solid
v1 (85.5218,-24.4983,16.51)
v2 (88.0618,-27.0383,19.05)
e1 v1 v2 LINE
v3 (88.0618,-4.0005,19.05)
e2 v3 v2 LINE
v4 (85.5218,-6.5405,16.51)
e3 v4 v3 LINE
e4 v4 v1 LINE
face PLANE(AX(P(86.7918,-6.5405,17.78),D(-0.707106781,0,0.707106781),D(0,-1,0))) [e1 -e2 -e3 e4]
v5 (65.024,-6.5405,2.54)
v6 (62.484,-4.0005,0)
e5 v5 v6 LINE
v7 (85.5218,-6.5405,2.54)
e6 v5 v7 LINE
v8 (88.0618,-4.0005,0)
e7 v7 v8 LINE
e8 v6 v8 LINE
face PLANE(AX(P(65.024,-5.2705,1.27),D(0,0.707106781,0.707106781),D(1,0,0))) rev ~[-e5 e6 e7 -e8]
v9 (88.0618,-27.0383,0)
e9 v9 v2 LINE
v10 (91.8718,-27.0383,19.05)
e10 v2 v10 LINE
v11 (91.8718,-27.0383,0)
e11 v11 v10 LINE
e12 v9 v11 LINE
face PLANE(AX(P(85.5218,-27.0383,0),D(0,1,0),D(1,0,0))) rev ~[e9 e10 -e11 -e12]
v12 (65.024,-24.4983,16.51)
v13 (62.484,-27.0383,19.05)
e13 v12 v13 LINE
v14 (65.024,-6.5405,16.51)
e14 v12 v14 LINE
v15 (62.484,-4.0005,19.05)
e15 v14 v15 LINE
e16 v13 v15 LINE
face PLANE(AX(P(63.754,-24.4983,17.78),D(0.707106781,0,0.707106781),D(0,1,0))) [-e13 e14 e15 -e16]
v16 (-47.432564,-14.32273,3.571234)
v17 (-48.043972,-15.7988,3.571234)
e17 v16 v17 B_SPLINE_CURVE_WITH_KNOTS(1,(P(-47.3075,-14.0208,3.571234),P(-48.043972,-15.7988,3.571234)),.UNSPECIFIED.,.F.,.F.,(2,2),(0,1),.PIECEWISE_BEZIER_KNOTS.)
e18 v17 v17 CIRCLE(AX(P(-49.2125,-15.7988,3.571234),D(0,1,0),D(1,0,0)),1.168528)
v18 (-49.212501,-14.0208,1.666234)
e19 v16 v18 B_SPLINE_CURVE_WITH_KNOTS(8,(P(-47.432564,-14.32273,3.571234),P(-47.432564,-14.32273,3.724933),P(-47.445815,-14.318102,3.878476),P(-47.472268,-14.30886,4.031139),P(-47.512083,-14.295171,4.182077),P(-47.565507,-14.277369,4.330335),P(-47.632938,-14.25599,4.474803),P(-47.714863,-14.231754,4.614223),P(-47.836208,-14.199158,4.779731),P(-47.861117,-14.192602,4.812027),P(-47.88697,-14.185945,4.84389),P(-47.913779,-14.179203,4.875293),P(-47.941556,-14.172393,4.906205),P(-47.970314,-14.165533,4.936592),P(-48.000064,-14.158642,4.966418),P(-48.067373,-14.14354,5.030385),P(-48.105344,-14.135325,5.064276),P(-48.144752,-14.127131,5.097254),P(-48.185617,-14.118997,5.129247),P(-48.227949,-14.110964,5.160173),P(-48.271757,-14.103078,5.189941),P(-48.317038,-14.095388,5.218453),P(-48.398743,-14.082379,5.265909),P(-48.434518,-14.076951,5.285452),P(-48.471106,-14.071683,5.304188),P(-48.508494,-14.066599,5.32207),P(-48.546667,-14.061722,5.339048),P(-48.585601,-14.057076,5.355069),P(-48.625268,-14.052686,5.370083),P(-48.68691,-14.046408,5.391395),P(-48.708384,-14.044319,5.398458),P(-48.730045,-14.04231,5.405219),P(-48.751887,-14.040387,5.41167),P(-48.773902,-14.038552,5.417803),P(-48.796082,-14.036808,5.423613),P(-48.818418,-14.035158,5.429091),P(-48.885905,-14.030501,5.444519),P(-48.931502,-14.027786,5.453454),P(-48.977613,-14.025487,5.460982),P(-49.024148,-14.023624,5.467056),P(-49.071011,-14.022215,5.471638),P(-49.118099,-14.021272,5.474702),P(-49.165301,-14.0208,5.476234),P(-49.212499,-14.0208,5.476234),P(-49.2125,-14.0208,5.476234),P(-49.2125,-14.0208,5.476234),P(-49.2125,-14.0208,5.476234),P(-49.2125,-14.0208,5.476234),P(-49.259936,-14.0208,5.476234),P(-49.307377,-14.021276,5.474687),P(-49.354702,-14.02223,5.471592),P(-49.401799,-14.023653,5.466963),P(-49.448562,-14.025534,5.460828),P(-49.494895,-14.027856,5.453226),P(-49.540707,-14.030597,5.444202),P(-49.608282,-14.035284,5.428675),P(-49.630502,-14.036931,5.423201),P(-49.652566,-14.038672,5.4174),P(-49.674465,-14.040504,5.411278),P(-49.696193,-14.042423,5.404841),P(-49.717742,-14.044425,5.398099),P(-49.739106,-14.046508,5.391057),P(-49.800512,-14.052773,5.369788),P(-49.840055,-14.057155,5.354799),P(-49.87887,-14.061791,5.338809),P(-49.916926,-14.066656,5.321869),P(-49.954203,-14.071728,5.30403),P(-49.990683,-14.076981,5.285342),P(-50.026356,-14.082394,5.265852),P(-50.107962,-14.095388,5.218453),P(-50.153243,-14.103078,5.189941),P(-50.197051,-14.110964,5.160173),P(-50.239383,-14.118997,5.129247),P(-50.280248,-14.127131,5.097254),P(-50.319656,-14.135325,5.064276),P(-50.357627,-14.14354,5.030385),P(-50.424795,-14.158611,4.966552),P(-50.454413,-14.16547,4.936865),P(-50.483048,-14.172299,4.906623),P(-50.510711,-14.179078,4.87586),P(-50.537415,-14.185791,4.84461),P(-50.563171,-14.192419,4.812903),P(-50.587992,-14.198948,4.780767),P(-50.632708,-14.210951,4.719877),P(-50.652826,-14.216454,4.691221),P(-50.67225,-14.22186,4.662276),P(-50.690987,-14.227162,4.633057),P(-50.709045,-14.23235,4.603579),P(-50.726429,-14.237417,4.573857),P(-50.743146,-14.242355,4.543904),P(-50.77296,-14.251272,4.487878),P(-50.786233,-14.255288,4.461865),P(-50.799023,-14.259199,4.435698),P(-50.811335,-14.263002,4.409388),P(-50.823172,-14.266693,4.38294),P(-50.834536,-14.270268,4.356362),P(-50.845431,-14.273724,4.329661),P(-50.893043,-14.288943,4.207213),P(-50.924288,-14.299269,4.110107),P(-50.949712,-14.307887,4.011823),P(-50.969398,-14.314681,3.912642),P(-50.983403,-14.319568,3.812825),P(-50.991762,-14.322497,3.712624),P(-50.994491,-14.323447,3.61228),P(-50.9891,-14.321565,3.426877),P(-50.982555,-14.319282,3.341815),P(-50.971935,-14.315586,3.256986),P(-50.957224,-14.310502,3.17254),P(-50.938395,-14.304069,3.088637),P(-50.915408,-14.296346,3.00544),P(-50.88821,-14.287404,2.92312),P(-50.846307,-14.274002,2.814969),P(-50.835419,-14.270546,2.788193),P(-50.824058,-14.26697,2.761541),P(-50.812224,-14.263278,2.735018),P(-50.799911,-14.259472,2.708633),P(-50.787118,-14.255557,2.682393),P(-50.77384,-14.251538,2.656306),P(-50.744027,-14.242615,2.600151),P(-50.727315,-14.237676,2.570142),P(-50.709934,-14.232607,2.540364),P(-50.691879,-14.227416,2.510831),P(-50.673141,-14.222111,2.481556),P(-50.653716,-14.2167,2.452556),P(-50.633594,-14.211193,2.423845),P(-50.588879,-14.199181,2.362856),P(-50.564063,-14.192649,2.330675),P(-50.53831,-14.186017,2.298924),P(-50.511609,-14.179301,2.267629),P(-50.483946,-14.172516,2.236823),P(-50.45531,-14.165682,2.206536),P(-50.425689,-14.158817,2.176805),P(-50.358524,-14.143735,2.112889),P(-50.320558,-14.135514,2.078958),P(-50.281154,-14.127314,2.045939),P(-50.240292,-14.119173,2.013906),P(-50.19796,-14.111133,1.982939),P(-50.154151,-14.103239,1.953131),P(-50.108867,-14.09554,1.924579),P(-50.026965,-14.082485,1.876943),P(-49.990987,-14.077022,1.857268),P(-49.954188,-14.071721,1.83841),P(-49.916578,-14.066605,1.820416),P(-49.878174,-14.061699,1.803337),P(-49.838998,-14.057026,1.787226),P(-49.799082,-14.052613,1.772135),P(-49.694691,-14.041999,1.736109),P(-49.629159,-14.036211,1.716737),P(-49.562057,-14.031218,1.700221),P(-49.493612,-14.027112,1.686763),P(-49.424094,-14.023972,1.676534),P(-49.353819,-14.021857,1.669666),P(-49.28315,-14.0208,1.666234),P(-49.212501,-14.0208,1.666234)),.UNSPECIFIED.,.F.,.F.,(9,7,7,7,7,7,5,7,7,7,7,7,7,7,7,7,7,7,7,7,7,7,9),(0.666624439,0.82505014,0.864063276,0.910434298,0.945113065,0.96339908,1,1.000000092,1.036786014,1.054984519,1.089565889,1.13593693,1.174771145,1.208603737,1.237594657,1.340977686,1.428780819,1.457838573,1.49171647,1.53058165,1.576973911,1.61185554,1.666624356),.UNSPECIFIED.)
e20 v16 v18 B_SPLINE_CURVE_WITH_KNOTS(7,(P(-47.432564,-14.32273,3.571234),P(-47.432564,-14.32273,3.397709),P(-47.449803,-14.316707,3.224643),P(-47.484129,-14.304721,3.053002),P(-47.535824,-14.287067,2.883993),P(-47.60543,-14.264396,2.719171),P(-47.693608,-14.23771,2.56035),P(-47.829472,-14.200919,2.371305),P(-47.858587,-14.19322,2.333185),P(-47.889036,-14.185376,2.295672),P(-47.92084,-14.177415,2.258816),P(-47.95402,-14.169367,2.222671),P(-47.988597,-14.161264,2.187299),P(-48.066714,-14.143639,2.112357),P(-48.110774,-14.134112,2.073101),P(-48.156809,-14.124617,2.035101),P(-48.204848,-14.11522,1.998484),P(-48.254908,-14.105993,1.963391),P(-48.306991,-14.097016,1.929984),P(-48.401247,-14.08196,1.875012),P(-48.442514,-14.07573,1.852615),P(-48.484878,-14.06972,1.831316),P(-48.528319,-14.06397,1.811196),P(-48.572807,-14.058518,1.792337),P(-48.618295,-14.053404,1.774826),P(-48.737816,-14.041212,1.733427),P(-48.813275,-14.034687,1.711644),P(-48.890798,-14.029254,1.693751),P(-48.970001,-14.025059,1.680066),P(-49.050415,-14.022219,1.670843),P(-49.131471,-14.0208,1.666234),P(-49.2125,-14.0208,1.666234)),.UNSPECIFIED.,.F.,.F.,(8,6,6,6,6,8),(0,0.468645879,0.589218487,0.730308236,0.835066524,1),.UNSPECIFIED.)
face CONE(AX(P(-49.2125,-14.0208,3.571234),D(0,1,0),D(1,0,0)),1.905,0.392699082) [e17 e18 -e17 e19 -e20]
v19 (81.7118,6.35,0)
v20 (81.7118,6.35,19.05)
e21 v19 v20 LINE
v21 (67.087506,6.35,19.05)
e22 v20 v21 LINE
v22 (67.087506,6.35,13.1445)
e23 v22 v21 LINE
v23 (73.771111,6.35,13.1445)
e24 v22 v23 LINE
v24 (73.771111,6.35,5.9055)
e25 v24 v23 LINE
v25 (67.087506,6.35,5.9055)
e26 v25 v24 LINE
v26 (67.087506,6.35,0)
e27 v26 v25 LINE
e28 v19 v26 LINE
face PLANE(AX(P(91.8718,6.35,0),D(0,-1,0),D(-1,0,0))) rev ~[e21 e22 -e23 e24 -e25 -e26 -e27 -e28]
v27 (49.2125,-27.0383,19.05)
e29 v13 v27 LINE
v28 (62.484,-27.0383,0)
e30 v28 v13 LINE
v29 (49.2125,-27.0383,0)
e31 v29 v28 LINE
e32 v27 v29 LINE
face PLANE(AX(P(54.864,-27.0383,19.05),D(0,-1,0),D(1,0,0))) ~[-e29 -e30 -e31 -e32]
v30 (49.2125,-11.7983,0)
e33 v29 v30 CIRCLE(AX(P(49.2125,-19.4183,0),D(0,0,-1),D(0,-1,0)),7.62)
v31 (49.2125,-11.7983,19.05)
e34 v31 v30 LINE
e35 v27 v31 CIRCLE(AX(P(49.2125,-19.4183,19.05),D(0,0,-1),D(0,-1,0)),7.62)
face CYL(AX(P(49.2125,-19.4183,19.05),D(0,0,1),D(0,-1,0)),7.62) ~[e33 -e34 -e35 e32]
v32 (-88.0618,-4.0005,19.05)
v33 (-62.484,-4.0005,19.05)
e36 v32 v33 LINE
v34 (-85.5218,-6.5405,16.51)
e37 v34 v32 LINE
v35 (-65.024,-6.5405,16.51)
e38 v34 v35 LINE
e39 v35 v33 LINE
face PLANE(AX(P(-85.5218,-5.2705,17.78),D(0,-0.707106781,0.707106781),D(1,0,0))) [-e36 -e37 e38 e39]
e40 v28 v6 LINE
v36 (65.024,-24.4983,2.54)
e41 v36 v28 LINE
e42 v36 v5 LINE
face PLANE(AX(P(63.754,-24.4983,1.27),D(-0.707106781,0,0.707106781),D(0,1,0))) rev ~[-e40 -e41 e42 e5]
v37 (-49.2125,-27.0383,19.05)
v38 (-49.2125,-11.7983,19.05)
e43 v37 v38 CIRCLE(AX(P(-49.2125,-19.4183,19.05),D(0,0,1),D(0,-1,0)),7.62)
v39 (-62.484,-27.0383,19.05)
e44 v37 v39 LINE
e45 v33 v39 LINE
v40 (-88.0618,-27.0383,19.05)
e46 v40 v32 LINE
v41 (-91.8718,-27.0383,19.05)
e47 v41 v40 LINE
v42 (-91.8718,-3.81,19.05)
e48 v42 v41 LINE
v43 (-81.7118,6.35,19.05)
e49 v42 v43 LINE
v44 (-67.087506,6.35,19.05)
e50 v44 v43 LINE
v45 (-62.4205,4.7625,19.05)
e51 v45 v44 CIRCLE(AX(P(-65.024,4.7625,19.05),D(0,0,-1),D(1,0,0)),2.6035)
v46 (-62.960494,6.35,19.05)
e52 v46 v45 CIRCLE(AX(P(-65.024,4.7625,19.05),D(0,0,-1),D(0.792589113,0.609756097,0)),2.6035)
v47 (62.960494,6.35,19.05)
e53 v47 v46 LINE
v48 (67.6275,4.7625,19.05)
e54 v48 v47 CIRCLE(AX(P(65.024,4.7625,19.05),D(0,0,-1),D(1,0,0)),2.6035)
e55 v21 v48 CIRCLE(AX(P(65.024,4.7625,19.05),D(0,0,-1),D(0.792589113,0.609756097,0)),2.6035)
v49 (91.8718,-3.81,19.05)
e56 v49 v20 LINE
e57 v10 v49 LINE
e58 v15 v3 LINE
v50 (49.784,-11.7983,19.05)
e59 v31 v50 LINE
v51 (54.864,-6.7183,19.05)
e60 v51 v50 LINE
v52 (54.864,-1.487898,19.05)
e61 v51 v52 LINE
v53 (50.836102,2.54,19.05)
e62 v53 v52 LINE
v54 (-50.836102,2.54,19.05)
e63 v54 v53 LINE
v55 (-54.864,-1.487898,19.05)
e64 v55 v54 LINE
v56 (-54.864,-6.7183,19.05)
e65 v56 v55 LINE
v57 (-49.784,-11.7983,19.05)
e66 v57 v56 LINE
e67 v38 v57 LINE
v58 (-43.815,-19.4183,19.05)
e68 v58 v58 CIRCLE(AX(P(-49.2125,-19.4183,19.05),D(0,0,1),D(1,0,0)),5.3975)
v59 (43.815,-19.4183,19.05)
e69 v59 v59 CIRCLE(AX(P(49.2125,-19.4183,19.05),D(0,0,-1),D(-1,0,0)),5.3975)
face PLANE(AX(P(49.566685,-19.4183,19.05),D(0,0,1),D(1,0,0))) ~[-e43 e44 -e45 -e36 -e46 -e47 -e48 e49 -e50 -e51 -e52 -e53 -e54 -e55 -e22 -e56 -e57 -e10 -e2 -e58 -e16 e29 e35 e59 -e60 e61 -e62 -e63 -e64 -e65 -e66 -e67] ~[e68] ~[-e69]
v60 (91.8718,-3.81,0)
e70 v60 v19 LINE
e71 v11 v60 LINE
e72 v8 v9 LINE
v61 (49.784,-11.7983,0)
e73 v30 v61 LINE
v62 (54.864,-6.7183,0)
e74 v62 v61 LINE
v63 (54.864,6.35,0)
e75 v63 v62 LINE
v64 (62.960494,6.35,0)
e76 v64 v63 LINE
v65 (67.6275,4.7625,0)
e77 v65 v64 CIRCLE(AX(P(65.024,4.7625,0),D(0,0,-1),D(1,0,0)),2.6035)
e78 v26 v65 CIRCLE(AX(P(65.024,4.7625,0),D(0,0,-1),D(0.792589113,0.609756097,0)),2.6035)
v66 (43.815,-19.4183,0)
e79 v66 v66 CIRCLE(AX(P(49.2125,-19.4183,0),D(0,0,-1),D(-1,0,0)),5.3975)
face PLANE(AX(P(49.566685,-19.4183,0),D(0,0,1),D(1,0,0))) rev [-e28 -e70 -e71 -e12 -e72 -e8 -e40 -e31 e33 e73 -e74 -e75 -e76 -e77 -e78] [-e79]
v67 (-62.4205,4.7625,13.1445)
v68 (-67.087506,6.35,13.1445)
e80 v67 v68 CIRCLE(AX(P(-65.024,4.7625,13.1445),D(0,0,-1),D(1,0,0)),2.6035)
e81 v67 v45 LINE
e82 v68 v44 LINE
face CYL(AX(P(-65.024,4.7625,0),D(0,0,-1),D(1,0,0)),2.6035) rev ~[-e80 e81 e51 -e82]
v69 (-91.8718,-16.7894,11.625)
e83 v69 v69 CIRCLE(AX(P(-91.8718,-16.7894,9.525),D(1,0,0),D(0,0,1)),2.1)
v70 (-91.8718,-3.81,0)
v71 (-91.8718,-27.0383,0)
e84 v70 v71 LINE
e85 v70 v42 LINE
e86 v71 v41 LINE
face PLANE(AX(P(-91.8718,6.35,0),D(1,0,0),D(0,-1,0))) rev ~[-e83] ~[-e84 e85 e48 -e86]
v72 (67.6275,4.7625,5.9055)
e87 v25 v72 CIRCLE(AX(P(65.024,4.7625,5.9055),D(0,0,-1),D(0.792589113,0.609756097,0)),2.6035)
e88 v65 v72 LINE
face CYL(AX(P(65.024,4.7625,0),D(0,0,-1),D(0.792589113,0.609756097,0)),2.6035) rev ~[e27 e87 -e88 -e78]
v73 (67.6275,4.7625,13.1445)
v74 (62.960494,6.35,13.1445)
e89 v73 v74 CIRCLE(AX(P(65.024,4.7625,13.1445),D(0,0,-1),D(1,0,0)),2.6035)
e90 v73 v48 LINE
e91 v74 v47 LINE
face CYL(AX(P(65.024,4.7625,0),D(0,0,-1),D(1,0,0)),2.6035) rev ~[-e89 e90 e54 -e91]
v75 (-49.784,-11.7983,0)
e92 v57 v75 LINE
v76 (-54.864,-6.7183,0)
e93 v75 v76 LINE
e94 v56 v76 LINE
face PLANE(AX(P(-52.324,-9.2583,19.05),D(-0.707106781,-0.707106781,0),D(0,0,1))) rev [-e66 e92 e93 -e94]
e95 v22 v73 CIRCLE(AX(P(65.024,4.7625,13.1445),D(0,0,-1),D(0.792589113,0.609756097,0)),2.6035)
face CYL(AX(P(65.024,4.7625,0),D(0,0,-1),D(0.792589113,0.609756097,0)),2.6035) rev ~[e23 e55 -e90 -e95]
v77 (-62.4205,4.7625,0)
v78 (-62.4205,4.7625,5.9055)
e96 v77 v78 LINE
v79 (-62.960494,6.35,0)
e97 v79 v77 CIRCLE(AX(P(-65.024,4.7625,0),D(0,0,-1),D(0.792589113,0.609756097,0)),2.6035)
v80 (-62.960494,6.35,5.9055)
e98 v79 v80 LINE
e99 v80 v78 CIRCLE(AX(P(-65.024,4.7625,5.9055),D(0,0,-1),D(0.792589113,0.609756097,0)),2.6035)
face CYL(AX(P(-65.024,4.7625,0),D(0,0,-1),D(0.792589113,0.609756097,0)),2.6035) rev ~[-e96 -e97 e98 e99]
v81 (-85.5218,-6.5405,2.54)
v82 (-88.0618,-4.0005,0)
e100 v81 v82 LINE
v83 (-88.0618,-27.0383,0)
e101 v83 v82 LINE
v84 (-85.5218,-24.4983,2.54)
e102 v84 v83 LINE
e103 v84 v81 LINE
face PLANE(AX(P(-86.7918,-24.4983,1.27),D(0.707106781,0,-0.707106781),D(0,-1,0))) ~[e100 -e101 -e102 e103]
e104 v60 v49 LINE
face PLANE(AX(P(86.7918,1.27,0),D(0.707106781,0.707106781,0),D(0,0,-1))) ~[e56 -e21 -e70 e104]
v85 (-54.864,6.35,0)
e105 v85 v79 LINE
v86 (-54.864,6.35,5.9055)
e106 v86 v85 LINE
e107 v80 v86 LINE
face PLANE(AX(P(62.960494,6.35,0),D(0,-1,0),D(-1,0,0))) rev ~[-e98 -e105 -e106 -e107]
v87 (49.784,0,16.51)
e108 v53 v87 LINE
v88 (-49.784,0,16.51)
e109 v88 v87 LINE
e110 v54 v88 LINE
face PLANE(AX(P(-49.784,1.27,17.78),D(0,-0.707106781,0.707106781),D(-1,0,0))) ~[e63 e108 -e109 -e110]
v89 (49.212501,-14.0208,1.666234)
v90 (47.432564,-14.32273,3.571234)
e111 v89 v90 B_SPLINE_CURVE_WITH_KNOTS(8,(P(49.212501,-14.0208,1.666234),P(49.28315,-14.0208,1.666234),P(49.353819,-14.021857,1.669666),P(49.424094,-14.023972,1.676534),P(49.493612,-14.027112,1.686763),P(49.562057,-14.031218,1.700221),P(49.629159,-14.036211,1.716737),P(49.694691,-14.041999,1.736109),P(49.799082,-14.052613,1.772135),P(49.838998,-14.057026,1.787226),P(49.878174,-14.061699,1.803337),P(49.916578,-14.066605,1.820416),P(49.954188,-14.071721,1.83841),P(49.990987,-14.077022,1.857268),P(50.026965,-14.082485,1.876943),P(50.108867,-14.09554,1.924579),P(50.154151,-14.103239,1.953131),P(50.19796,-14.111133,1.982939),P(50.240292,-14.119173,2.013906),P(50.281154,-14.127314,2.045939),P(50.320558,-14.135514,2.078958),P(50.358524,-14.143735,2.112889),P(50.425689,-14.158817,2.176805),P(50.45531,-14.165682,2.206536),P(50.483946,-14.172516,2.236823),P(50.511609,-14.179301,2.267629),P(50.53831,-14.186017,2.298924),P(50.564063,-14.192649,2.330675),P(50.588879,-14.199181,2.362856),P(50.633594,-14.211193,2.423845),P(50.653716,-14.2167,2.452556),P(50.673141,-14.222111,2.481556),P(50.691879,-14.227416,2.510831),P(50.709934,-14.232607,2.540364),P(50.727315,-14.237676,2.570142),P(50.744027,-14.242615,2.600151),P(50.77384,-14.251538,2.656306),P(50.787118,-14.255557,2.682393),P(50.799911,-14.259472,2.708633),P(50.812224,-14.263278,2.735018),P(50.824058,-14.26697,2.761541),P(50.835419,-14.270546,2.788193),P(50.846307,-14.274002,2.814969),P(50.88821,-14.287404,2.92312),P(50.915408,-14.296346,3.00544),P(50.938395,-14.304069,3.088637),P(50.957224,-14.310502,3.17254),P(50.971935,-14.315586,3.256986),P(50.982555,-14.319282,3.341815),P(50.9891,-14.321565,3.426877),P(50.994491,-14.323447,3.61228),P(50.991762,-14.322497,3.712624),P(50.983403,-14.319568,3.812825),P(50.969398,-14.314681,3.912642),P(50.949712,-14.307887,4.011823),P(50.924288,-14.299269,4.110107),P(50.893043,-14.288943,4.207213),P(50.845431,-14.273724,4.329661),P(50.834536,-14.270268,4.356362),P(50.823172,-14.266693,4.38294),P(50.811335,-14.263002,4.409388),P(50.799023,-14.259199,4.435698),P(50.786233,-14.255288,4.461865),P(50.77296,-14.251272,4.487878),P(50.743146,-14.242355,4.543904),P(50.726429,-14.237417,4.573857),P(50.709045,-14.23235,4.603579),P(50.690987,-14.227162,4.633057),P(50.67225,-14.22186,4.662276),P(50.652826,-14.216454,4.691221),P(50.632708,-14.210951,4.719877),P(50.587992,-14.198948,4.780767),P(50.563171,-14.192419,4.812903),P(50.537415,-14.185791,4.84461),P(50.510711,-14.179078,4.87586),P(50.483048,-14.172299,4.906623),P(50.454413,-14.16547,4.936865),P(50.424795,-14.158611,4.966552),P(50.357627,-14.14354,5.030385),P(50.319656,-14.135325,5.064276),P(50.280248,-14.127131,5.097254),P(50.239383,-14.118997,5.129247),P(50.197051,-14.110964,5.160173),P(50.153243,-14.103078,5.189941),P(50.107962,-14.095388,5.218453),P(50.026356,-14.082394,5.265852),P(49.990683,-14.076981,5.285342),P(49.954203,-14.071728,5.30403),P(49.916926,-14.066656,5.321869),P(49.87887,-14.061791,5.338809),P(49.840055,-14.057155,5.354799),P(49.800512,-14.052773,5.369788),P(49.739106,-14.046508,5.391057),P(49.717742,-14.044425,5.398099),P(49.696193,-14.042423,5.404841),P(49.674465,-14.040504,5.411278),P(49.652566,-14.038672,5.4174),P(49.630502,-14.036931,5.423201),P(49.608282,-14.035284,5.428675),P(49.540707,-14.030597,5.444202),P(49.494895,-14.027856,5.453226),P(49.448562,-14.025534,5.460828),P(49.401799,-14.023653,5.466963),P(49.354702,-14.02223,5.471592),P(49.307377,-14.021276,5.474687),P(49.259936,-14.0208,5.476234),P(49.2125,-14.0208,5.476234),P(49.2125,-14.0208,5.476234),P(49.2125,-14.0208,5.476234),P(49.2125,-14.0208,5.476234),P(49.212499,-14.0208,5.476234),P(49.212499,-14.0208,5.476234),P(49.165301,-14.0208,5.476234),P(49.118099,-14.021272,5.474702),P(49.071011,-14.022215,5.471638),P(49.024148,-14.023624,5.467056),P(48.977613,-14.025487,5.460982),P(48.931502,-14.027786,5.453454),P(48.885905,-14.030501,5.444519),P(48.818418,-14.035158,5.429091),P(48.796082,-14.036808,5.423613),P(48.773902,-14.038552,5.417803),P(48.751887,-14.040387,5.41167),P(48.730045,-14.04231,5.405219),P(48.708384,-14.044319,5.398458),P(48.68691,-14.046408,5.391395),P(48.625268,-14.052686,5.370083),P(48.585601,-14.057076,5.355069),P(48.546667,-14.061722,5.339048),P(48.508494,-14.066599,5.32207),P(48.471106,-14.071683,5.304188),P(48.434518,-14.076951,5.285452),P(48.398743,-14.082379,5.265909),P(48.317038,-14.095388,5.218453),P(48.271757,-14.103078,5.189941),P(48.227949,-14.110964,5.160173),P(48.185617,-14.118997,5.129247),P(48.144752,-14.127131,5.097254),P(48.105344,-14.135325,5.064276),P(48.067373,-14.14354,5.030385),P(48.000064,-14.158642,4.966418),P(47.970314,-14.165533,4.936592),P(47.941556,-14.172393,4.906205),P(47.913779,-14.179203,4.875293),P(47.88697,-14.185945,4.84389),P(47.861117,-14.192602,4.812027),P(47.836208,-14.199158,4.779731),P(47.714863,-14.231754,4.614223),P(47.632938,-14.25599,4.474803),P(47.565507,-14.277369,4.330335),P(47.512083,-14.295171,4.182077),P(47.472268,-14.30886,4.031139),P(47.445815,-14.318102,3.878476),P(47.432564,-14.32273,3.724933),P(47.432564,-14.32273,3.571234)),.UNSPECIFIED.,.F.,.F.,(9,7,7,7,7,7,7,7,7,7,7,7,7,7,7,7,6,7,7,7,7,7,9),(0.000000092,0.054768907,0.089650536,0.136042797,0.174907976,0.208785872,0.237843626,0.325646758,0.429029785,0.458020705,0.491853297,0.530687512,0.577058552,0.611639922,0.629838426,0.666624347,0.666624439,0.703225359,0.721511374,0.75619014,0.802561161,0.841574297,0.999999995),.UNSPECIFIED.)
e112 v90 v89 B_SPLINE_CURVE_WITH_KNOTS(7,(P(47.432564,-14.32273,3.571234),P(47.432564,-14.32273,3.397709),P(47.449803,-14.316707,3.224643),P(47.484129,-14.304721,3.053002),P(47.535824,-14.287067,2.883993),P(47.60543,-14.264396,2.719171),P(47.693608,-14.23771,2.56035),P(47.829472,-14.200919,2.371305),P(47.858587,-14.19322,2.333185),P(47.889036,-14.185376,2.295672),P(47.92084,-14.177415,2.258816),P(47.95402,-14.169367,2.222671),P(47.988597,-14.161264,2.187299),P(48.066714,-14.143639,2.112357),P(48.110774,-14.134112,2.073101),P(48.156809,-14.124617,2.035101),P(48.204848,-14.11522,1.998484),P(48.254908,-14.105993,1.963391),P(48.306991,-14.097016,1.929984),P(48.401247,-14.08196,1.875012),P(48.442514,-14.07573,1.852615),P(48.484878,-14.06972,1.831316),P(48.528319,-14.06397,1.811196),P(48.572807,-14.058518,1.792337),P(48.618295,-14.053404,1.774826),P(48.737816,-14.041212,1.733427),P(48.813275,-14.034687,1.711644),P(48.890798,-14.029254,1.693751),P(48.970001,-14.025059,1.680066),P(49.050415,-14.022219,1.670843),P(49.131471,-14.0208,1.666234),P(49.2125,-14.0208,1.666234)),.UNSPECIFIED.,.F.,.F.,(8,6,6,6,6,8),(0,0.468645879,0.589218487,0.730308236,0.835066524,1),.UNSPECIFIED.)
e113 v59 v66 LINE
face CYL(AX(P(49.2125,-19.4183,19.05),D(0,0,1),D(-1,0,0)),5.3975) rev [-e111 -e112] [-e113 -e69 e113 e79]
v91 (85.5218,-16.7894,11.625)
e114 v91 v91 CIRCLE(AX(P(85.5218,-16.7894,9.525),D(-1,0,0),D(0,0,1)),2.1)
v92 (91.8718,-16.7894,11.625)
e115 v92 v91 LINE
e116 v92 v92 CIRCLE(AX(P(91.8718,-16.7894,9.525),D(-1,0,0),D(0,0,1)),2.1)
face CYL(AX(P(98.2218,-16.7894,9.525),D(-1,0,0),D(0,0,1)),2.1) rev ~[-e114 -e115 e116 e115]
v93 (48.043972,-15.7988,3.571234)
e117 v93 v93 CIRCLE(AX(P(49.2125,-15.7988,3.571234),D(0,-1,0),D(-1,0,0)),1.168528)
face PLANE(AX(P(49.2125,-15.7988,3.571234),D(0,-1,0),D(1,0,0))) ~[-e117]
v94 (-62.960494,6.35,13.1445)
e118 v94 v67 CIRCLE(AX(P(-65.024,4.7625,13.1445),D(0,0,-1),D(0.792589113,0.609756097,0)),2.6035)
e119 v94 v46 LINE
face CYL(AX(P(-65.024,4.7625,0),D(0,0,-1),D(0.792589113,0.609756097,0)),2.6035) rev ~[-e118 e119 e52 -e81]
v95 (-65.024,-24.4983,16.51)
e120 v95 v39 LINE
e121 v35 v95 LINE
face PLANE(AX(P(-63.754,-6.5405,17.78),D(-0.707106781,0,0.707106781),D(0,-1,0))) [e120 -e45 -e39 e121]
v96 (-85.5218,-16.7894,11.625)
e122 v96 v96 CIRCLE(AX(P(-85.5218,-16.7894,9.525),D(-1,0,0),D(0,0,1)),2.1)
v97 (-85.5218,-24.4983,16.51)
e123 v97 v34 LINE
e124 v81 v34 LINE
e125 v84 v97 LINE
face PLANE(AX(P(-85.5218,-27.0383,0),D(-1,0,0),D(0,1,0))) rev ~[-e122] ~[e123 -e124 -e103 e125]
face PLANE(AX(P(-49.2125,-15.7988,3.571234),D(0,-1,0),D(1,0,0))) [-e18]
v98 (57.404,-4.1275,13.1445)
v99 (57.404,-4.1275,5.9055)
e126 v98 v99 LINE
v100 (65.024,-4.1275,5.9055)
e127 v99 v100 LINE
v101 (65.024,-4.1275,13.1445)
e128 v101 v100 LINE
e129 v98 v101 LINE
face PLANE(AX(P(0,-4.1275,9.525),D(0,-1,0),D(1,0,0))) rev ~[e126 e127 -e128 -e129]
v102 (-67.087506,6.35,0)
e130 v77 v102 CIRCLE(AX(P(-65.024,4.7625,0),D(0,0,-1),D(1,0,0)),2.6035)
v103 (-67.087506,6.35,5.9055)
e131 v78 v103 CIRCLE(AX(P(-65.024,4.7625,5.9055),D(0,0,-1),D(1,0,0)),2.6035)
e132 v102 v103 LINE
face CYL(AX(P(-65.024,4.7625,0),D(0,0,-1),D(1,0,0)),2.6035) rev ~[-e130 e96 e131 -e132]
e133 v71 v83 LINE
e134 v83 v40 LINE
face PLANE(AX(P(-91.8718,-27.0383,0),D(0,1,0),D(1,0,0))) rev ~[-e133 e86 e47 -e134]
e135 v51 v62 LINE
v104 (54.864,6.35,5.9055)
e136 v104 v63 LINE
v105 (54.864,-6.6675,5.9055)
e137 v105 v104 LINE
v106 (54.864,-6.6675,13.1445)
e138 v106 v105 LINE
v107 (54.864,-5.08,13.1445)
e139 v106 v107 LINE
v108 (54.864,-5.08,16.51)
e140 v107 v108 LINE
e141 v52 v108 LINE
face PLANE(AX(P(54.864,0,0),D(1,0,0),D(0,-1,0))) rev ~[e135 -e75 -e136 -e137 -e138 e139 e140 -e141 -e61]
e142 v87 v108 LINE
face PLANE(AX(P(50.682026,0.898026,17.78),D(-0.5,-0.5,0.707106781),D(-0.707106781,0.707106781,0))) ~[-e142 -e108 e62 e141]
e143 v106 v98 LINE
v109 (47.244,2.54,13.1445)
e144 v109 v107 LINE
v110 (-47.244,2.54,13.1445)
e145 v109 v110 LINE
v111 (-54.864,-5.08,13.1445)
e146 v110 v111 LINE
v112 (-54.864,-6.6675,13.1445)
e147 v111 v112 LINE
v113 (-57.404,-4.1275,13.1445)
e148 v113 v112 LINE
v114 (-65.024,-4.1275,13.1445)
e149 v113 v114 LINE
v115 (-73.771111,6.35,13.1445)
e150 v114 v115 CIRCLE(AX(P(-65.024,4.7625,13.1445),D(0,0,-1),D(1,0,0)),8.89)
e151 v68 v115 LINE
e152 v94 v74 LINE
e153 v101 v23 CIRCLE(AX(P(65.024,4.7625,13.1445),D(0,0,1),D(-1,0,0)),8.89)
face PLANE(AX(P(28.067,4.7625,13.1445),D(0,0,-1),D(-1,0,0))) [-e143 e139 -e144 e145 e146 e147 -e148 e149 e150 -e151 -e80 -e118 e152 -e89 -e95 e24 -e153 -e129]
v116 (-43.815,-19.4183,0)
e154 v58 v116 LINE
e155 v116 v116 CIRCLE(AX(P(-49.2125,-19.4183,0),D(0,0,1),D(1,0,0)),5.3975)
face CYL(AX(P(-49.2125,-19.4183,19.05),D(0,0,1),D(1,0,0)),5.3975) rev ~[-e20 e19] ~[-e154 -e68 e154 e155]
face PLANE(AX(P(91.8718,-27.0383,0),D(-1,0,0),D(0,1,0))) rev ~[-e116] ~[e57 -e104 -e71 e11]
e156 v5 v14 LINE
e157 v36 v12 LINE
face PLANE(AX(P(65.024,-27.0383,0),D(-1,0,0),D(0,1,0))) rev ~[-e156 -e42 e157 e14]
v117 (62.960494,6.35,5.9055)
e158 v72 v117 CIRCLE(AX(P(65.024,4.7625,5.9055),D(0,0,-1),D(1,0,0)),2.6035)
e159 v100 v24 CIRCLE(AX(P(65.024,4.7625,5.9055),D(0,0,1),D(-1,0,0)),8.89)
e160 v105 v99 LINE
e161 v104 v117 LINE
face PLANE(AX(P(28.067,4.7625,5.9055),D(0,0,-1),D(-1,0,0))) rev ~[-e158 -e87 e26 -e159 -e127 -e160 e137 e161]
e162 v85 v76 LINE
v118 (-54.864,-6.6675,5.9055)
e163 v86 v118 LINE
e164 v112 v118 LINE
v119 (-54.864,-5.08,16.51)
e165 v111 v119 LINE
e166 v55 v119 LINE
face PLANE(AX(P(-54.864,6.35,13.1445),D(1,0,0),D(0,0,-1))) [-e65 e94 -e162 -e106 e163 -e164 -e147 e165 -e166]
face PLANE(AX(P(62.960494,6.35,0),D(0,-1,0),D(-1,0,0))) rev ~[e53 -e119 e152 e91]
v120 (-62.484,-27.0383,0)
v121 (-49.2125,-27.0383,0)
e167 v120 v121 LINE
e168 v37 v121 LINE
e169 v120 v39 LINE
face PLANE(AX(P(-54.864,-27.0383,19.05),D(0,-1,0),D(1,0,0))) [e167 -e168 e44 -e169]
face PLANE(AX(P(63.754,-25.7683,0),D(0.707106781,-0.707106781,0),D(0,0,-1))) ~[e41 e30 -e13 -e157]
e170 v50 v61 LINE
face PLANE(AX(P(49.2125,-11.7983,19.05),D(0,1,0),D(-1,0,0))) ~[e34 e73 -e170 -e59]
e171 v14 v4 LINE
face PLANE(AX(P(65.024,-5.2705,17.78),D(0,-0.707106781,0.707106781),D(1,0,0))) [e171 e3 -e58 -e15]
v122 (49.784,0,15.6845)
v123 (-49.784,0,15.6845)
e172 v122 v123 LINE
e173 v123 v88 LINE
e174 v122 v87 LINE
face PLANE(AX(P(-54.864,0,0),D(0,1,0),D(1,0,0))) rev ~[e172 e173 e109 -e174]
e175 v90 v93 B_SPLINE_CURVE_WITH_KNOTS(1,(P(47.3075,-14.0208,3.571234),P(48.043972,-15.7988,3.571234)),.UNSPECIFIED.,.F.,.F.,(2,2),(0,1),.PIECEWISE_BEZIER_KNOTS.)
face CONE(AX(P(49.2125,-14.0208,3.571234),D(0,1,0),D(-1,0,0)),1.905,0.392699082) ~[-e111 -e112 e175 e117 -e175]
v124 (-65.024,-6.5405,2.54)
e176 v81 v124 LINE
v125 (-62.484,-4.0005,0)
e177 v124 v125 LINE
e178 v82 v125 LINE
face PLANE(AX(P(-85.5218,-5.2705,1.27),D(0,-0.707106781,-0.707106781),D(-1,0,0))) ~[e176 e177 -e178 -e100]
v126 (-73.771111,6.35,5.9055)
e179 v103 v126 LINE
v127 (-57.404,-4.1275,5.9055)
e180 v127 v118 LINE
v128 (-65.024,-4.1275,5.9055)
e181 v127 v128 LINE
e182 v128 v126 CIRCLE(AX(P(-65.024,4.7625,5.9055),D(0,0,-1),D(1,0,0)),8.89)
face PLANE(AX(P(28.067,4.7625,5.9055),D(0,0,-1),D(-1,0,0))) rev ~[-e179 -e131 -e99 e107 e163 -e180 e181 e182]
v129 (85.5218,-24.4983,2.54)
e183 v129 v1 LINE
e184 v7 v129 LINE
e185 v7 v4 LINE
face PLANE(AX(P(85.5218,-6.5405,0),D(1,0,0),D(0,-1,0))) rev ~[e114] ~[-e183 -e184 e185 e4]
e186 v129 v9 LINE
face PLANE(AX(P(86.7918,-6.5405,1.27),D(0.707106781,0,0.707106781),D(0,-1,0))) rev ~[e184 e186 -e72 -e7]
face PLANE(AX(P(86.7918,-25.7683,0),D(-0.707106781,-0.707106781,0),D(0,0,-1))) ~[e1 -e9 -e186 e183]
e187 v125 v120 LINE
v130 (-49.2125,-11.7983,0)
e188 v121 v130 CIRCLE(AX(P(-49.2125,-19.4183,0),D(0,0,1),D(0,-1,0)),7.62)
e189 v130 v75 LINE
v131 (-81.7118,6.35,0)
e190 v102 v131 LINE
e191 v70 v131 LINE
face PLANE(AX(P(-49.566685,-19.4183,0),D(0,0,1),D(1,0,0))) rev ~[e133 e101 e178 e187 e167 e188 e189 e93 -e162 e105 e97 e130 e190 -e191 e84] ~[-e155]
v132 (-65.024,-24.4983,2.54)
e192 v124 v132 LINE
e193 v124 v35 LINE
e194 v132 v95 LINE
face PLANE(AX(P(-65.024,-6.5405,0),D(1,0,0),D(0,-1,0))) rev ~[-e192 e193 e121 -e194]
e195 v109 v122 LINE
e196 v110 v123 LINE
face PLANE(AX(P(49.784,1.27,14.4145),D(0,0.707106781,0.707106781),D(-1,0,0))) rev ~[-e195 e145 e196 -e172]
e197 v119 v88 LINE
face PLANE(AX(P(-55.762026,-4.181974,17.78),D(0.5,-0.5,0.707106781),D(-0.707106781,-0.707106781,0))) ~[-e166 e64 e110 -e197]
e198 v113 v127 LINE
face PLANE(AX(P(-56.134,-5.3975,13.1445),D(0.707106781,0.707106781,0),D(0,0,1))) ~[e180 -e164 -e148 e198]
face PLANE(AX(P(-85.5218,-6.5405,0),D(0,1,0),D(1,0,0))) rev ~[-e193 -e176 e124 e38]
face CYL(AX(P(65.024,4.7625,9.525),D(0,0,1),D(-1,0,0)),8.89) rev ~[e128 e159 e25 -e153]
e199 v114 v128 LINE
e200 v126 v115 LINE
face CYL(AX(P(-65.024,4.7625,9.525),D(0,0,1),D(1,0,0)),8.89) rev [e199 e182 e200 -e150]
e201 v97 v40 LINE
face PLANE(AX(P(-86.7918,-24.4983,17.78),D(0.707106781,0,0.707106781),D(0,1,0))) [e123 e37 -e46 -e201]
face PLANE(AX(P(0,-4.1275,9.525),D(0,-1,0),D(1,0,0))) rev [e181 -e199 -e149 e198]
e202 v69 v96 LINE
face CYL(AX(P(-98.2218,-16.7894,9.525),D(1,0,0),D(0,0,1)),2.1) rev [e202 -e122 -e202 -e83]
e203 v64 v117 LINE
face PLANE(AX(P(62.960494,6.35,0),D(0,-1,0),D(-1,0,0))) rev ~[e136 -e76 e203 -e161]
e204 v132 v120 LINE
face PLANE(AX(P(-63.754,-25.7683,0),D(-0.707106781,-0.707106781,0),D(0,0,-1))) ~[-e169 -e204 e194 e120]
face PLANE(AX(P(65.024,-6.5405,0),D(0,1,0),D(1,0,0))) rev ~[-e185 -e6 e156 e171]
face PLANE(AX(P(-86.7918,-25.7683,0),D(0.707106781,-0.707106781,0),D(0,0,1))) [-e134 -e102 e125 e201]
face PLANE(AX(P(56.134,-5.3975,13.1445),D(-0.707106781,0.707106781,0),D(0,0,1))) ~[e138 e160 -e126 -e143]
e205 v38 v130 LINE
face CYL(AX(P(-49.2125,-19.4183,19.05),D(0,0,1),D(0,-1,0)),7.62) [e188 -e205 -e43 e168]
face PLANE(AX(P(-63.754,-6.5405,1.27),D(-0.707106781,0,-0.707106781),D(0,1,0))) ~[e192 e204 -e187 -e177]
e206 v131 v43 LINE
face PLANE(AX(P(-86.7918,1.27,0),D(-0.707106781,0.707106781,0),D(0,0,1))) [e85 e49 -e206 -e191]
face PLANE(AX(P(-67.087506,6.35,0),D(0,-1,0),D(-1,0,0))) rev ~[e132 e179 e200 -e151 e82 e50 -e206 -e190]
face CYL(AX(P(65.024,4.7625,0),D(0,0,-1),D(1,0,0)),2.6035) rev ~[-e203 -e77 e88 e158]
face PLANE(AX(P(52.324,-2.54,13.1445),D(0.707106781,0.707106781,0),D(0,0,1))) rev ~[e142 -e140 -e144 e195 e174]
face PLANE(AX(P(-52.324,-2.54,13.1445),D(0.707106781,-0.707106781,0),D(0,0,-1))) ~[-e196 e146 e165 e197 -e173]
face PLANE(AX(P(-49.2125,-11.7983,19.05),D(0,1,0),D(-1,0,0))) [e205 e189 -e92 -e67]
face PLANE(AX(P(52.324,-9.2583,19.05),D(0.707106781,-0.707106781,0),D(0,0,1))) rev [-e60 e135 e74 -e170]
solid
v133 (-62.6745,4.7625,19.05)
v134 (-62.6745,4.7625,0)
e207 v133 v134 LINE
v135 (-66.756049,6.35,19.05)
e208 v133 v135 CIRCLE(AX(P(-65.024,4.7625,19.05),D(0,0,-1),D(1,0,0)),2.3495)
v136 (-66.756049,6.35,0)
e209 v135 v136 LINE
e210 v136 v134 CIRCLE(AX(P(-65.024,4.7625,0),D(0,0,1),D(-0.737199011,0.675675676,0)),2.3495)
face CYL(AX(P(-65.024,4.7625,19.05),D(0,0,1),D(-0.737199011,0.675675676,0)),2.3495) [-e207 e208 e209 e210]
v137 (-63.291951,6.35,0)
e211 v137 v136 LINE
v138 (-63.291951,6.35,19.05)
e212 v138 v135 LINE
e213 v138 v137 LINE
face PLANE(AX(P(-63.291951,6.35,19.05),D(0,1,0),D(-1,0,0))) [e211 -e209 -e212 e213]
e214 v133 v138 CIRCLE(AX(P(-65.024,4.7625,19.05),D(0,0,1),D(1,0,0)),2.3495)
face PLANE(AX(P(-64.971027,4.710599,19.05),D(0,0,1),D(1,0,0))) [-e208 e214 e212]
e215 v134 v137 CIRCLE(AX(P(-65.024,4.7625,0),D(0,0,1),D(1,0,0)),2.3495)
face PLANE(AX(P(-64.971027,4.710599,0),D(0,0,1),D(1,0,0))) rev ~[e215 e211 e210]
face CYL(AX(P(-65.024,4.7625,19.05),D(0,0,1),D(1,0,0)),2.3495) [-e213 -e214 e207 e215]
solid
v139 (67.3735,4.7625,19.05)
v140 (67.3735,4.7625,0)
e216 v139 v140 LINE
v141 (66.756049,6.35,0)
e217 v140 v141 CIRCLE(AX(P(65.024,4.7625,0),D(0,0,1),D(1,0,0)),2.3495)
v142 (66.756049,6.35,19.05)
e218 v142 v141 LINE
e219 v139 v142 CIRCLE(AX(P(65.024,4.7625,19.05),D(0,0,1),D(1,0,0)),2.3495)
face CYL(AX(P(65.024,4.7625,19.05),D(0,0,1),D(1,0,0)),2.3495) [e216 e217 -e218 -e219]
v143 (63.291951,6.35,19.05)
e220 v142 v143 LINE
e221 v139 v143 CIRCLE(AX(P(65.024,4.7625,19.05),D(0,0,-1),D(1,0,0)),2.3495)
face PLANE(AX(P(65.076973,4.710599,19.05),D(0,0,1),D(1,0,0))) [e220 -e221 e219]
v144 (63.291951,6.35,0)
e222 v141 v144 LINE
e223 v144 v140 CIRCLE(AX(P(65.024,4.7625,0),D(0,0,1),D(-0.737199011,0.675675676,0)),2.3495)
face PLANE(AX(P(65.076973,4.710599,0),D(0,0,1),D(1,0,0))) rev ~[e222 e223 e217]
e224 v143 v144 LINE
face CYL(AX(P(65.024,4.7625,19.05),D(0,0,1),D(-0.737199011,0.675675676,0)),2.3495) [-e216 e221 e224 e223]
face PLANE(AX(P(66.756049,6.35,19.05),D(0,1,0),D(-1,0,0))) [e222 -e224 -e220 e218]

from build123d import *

# Parameters (mm, degrees)
BOSS_EXTRUDE1_DEPTH       = 19.05
M5X0_8_TAPPED_HOLE1_D     = 4.2
M5X0_8_TAPPED_HOLE1_DEPTH = 6.35
SKETCH2_R                 = 8.89
CUT_EXTRUDE1_DEPTH        = 3.6195
BOSS_EXTRUDE2_DEPTH       = 19.05
BOSS_EXTRUDE2_2_DEPTH     = 19.05
CHAMFER1_SIZE             = 2.54
CHAMFER2_SIZE             = 10.16
CHAMFER1_OF_MIRROR1_SIZE  = 2.54
CHAMFER2_OF_MIRROR1_SIZE  = 10.16
SKETCH4_W                 = 109.728
SKETCH4_H                 = 13.1445
CUT_EXTRUDE2_DEPTH        = 34.3883
CHAMFER3_SIZE             = 2.54
CHAMFER6_SIZE             = 5.08
SKETCH5_R                 = 5.3975
BOSS_EXTRUDE3_DEPTH       = 19.05
SKETCH6_R                 = 1.905
BOSS_EXTRUDE4_DEPTH       = 1.778
BOSS_EXTRUDE4_TAPER       = 22.5
CHAMFER7_SIZE             = 5.08
CHAMFER4_SIZE             = 2.54
CHAMFER5_SIZE             = 2.54


with BuildPart() as part:
    # Sketch1 → Boss-Extrude1 (new body)
    with BuildSketch(Plane.XY):
        with BuildLine():
            Line((-54.864, -27.0383), (-54.864, 0))
            Line((-54.864, 0), (54.864, 0))
            Line((54.864, 0), (54.864, -27.0383))
            Line((54.864, -27.0383), (65.024, -27.0383))
            Line((65.024, -27.0383), (65.024, -6.5405))
            Line((65.024, -6.5405), (85.5218, -6.5405))
            Line((85.5218, -6.5405), (85.5218, -27.0383))
            Line((85.5218, -27.0383), (91.8718, -27.0383))
            Line((91.8718, -27.0383), (91.8718, 6.35))
            Line((91.8718, 6.35), (67.087505755, 6.35))
            ThreePointArc((67.087505755, 6.35), (67.488807242, 5.600913686), (67.6275, 4.7625))
            ThreePointArc((67.6275, 4.7625), (64.185586314, 2.297692758), (62.960494245, 6.35))
            Line((62.960494245, 6.35), (-62.960494245, 6.35))
            ThreePointArc((-62.960494245, 6.35), (-62.559192758, 5.600913686), (-62.4205, 4.7625))
            ThreePointArc((-62.4205, 4.7625), (-65.862413686, 2.297692758), (-67.087505755, 6.35))
            Line((-67.087505755, 6.35), (-91.8718, 6.35))
            Line((-91.8718, 6.35), (-91.8718, -27.0383))
            Line((-91.8718, -27.0383), (-85.5218, -27.0383))
            Line((-85.5218, -27.0383), (-85.5218, -6.5405))
            Line((-85.5218, -6.5405), (-65.024, -6.5405))
            Line((-65.024, -6.5405), (-65.024, -27.0383))
            Line((-65.024, -27.0383), (-54.864, -27.0383))
        make_face()
    extrude(amount=BOSS_EXTRUDE1_DEPTH)

    # M5x0.8 Tapped Hole1
    with Locations(Plane(origin=(91.8718, 0, 0), x_dir=(0, 0, -1), z_dir=(1, 0, 0))):
        with Locations((-9.525, -16.7894)):
            m5x0_8_tapped_hole1 = Hole(M5X0_8_TAPPED_HOLE1_D / 2, depth=M5X0_8_TAPPED_HOLE1_DEPTH)

    # Sketch2 → Cut-Extrude1 (cut, symmetric)
    with BuildSketch(Plane.XY.offset(9.525)):
        Polygon((0, 13.6525), (56.134, 13.6525), (56.134, 4.7625), (56.134, -4.1275), (0, -4.1275), align=None)
        with BuildLine():
            Line((56.134, 13.6525), (56.134, 4.7625))
            ThreePointArc((56.134, 4.7625), (58.737820715, 11.048679285), (65.024, 13.6525))
            Line((65.024, 13.6525), (56.134, 13.6525))
        make_face()
        with Locations((65.024, 4.7625)):
            Circle(SKETCH2_R)
        with BuildLine():
            Line((56.134, -4.1275), (65.024, -4.1275))
            ThreePointArc((65.024, -4.1275), (58.737820715, -1.523679285), (56.134, 4.7625))
            Line((56.134, 4.7625), (56.134, -4.1275))
        make_face()
    cut_extrude1 = extrude(amount=CUT_EXTRUDE1_DEPTH, both=True, mode=Mode.SUBTRACT)

    # Chamfer1
    chamfer1_edges = [part.edges().sort_by_distance(p)[0] for p in [
        (85.5218, -27.0383, 9.525),
        (65.024, -27.0383, 9.525),
    ]]
    chamfer(chamfer1_edges, length=CHAMFER1_SIZE)

    # Chamfer2
    chamfer2_edges = [part.edges().sort_by_distance(p)[0] for p in [
        (91.8718, 6.35, 9.525),
    ]]
    chamfer(chamfer2_edges, length=CHAMFER2_SIZE)

    # Mirror1: M5x0.8 Tapped Hole1, Cut-Extrude1 across plane
    add(m5x0_8_tapped_hole1.mirror(Plane(origin=(0, 0, 0), x_dir=(0, 0, 1), z_dir=(1, 0, 0))), mode=Mode.SUBTRACT)
    add(cut_extrude1.mirror(Plane(origin=(0, 0, 0), x_dir=(0, 0, 1), z_dir=(1, 0, 0))), mode=Mode.SUBTRACT)

    # Chamfer1 of Mirror1
    chamfer1_of_mirror1_edges = [part.edges().sort_by_distance(p)[0] for p in [
        (-85.5218, -27.0383, 9.525),
        (-65.024, -27.0383, 9.525),
    ]]
    chamfer(chamfer1_of_mirror1_edges, length=CHAMFER1_OF_MIRROR1_SIZE)

    # Chamfer2 of Mirror1
    chamfer2_of_mirror1_edges = [part.edges().sort_by_distance(p)[0] for p in [
        (-91.8718, 6.35, 9.525),
    ]]
    chamfer(chamfer2_of_mirror1_edges, length=CHAMFER2_OF_MIRROR1_SIZE)

    # Sketch4 → Cut-Extrude2 (cut, through all)
    with BuildSketch(Plane(origin=(0, 6.35, 0), x_dir=(1, 0, 0), z_dir=(0, 1, 0))):
        with Locations((0, -6.57225)):
            Rectangle(SKETCH4_W, SKETCH4_H)
    extrude(amount=-CUT_EXTRUDE2_DEPTH, mode=Mode.SUBTRACT)

    # Chamfer3
    chamfer3_edges = [part.edges().sort_by_distance(p)[0] for p in [
        (-54.864, -4.1275, 9.525),
        (54.864, -4.1275, 9.525),
    ]]
    chamfer(chamfer3_edges, length=CHAMFER3_SIZE)

    # Chamfer6
    chamfer6_edges = [part.edges().sort_by_distance(p)[0] for p in [
        (54.864, 0, 16.09725),
        (-54.864, 0, 16.09725),
    ]]
    chamfer(chamfer6_edges, length=CHAMFER6_SIZE)

    # Sketch5 → Boss-Extrude3 (add)
    with BuildSketch(Plane.XY.offset(19.05)):
        with BuildLine():
            Line((-54.864, -27.0383), (-49.2125, -27.0383))
            ThreePointArc((-49.2125, -27.0383), (-41.5925, -19.4183), (-49.2125, -11.7983))
            Line((-49.2125, -11.7983), (-54.864, -11.7983))
            Line((-54.864, -11.7983), (-54.864, -27.0383))
        make_face()
        with Locations((-49.2125, -19.4183)):
            Circle(SKETCH5_R, mode=Mode.SUBTRACT)
    boss_extrude3 = extrude(amount=-BOSS_EXTRUDE3_DEPTH)

    # Sketch6 → Boss-Extrude4 (add)
    with BuildSketch(Plane.XZ.offset(14.0208)):
        with Locations((-49.2125, 3.57123405)):
            Circle(SKETCH6_R)
    boss_extrude4 = extrude(amount=BOSS_EXTRUDE4_DEPTH, taper=BOSS_EXTRUDE4_TAPER)

    # Mirror5: Boss-Extrude3, Boss-Extrude4 across plane
    add(boss_extrude3.mirror(Plane(origin=(0, 0, 0), x_dir=(0, 0, 1), z_dir=(1, 0, 0))))
    add(boss_extrude4.mirror(Plane(origin=(0, 0, 0), x_dir=(0, 0, 1), z_dir=(1, 0, 0))))

    # Chamfer7
    chamfer7_edges = [part.edges().sort_by_distance(p)[0] for p in [
        (-54.864, -11.7983, 9.525),
        (54.864, -11.7983, 9.525),
    ]]
    chamfer(chamfer7_edges, length=CHAMFER7_SIZE)

    # Chamfer4
    chamfer4_edges = [part.edges().sort_by_distance(p)[0] for p in [
        (0, 0, 13.1445),
        (0, 0, 19.05),
        (-52.324, -2.54, 19.05),
        (52.324, -2.54, 19.05),
    ]]
    chamfer(chamfer4_edges, length=CHAMFER4_SIZE)

    # Chamfer5
    chamfer5_edges = [part.edges().sort_by_distance(p)[0] for p in [
        (-85.5218, -15.5194, 0),
        (-75.2729, -6.5405, 0),
        (-65.024, -15.5194, 0),
        (-65.024, -15.5194, 19.05),
        (-75.2729, -6.5405, 19.05),
        (-85.5218, -15.5194, 19.05),
        (85.5218, -15.5194, 0),
        (85.5218, -15.5194, 19.05),
        (75.2729, -6.5405, 0),
        (75.2729, -6.5405, 19.05),
        (65.024, -15.5194, 19.05),
        (65.024, -15.5194, 0),
    ]]
    chamfer(chamfer5_edges, length=CHAMFER5_SIZE)


with BuildPart() as body_2:
    # Sketch3 → Boss-Extrude2 (new body)
    with BuildSketch(Plane.XY.offset(19.05)):
        with BuildLine():
            Line((66.756049076, 6.35), (63.291950924, 6.35))
            ThreePointArc((63.291950924, 6.35), (64.172324901, 2.572796875), (67.3735, 4.7625))
            ThreePointArc((67.3735, 4.7625), (67.213703125, 5.614175099), (66.756049076, 6.35))
        make_face()
    boss_extrude2 = extrude(amount=-BOSS_EXTRUDE2_DEPTH)


with BuildPart() as body_3:
    # Sketch3 → Boss-Extrude2 2 (new body)
    with BuildSketch(Plane.XY.offset(19.05)):
        with BuildLine():
            ThreePointArc((-62.6745, 4.7625), (-62.834296875, 5.614175099), (-63.291950924, 6.35))
            Line((-63.291950924, 6.35), (-66.756049076, 6.35))
            ThreePointArc((-66.756049076, 6.35), (-65.875675099, 2.572796875), (-62.6745, 4.7625))
        make_face()
    boss_extrude2_2 = extrude(amount=-BOSS_EXTRUDE2_2_DEPTH)


with BuildPart() as body_2_1:
    add(body_2.part)

    add(body_3.part)  # Mirror1 2 merges body 3
    # Mirror1 2: Boss-Extrude2, Boss-Extrude2 2 across plane
    add(boss_extrude2.mirror(Plane(origin=(0, 0, 0), x_dir=(0, 0, 1), z_dir=(1, 0, 0))))
    add(boss_extrude2_2.mirror(Plane(origin=(0, 0, 0), x_dir=(0, 0, 1), z_dir=(1, 0, 0))))


solid = Compound([part.part, body_2_1.part])
